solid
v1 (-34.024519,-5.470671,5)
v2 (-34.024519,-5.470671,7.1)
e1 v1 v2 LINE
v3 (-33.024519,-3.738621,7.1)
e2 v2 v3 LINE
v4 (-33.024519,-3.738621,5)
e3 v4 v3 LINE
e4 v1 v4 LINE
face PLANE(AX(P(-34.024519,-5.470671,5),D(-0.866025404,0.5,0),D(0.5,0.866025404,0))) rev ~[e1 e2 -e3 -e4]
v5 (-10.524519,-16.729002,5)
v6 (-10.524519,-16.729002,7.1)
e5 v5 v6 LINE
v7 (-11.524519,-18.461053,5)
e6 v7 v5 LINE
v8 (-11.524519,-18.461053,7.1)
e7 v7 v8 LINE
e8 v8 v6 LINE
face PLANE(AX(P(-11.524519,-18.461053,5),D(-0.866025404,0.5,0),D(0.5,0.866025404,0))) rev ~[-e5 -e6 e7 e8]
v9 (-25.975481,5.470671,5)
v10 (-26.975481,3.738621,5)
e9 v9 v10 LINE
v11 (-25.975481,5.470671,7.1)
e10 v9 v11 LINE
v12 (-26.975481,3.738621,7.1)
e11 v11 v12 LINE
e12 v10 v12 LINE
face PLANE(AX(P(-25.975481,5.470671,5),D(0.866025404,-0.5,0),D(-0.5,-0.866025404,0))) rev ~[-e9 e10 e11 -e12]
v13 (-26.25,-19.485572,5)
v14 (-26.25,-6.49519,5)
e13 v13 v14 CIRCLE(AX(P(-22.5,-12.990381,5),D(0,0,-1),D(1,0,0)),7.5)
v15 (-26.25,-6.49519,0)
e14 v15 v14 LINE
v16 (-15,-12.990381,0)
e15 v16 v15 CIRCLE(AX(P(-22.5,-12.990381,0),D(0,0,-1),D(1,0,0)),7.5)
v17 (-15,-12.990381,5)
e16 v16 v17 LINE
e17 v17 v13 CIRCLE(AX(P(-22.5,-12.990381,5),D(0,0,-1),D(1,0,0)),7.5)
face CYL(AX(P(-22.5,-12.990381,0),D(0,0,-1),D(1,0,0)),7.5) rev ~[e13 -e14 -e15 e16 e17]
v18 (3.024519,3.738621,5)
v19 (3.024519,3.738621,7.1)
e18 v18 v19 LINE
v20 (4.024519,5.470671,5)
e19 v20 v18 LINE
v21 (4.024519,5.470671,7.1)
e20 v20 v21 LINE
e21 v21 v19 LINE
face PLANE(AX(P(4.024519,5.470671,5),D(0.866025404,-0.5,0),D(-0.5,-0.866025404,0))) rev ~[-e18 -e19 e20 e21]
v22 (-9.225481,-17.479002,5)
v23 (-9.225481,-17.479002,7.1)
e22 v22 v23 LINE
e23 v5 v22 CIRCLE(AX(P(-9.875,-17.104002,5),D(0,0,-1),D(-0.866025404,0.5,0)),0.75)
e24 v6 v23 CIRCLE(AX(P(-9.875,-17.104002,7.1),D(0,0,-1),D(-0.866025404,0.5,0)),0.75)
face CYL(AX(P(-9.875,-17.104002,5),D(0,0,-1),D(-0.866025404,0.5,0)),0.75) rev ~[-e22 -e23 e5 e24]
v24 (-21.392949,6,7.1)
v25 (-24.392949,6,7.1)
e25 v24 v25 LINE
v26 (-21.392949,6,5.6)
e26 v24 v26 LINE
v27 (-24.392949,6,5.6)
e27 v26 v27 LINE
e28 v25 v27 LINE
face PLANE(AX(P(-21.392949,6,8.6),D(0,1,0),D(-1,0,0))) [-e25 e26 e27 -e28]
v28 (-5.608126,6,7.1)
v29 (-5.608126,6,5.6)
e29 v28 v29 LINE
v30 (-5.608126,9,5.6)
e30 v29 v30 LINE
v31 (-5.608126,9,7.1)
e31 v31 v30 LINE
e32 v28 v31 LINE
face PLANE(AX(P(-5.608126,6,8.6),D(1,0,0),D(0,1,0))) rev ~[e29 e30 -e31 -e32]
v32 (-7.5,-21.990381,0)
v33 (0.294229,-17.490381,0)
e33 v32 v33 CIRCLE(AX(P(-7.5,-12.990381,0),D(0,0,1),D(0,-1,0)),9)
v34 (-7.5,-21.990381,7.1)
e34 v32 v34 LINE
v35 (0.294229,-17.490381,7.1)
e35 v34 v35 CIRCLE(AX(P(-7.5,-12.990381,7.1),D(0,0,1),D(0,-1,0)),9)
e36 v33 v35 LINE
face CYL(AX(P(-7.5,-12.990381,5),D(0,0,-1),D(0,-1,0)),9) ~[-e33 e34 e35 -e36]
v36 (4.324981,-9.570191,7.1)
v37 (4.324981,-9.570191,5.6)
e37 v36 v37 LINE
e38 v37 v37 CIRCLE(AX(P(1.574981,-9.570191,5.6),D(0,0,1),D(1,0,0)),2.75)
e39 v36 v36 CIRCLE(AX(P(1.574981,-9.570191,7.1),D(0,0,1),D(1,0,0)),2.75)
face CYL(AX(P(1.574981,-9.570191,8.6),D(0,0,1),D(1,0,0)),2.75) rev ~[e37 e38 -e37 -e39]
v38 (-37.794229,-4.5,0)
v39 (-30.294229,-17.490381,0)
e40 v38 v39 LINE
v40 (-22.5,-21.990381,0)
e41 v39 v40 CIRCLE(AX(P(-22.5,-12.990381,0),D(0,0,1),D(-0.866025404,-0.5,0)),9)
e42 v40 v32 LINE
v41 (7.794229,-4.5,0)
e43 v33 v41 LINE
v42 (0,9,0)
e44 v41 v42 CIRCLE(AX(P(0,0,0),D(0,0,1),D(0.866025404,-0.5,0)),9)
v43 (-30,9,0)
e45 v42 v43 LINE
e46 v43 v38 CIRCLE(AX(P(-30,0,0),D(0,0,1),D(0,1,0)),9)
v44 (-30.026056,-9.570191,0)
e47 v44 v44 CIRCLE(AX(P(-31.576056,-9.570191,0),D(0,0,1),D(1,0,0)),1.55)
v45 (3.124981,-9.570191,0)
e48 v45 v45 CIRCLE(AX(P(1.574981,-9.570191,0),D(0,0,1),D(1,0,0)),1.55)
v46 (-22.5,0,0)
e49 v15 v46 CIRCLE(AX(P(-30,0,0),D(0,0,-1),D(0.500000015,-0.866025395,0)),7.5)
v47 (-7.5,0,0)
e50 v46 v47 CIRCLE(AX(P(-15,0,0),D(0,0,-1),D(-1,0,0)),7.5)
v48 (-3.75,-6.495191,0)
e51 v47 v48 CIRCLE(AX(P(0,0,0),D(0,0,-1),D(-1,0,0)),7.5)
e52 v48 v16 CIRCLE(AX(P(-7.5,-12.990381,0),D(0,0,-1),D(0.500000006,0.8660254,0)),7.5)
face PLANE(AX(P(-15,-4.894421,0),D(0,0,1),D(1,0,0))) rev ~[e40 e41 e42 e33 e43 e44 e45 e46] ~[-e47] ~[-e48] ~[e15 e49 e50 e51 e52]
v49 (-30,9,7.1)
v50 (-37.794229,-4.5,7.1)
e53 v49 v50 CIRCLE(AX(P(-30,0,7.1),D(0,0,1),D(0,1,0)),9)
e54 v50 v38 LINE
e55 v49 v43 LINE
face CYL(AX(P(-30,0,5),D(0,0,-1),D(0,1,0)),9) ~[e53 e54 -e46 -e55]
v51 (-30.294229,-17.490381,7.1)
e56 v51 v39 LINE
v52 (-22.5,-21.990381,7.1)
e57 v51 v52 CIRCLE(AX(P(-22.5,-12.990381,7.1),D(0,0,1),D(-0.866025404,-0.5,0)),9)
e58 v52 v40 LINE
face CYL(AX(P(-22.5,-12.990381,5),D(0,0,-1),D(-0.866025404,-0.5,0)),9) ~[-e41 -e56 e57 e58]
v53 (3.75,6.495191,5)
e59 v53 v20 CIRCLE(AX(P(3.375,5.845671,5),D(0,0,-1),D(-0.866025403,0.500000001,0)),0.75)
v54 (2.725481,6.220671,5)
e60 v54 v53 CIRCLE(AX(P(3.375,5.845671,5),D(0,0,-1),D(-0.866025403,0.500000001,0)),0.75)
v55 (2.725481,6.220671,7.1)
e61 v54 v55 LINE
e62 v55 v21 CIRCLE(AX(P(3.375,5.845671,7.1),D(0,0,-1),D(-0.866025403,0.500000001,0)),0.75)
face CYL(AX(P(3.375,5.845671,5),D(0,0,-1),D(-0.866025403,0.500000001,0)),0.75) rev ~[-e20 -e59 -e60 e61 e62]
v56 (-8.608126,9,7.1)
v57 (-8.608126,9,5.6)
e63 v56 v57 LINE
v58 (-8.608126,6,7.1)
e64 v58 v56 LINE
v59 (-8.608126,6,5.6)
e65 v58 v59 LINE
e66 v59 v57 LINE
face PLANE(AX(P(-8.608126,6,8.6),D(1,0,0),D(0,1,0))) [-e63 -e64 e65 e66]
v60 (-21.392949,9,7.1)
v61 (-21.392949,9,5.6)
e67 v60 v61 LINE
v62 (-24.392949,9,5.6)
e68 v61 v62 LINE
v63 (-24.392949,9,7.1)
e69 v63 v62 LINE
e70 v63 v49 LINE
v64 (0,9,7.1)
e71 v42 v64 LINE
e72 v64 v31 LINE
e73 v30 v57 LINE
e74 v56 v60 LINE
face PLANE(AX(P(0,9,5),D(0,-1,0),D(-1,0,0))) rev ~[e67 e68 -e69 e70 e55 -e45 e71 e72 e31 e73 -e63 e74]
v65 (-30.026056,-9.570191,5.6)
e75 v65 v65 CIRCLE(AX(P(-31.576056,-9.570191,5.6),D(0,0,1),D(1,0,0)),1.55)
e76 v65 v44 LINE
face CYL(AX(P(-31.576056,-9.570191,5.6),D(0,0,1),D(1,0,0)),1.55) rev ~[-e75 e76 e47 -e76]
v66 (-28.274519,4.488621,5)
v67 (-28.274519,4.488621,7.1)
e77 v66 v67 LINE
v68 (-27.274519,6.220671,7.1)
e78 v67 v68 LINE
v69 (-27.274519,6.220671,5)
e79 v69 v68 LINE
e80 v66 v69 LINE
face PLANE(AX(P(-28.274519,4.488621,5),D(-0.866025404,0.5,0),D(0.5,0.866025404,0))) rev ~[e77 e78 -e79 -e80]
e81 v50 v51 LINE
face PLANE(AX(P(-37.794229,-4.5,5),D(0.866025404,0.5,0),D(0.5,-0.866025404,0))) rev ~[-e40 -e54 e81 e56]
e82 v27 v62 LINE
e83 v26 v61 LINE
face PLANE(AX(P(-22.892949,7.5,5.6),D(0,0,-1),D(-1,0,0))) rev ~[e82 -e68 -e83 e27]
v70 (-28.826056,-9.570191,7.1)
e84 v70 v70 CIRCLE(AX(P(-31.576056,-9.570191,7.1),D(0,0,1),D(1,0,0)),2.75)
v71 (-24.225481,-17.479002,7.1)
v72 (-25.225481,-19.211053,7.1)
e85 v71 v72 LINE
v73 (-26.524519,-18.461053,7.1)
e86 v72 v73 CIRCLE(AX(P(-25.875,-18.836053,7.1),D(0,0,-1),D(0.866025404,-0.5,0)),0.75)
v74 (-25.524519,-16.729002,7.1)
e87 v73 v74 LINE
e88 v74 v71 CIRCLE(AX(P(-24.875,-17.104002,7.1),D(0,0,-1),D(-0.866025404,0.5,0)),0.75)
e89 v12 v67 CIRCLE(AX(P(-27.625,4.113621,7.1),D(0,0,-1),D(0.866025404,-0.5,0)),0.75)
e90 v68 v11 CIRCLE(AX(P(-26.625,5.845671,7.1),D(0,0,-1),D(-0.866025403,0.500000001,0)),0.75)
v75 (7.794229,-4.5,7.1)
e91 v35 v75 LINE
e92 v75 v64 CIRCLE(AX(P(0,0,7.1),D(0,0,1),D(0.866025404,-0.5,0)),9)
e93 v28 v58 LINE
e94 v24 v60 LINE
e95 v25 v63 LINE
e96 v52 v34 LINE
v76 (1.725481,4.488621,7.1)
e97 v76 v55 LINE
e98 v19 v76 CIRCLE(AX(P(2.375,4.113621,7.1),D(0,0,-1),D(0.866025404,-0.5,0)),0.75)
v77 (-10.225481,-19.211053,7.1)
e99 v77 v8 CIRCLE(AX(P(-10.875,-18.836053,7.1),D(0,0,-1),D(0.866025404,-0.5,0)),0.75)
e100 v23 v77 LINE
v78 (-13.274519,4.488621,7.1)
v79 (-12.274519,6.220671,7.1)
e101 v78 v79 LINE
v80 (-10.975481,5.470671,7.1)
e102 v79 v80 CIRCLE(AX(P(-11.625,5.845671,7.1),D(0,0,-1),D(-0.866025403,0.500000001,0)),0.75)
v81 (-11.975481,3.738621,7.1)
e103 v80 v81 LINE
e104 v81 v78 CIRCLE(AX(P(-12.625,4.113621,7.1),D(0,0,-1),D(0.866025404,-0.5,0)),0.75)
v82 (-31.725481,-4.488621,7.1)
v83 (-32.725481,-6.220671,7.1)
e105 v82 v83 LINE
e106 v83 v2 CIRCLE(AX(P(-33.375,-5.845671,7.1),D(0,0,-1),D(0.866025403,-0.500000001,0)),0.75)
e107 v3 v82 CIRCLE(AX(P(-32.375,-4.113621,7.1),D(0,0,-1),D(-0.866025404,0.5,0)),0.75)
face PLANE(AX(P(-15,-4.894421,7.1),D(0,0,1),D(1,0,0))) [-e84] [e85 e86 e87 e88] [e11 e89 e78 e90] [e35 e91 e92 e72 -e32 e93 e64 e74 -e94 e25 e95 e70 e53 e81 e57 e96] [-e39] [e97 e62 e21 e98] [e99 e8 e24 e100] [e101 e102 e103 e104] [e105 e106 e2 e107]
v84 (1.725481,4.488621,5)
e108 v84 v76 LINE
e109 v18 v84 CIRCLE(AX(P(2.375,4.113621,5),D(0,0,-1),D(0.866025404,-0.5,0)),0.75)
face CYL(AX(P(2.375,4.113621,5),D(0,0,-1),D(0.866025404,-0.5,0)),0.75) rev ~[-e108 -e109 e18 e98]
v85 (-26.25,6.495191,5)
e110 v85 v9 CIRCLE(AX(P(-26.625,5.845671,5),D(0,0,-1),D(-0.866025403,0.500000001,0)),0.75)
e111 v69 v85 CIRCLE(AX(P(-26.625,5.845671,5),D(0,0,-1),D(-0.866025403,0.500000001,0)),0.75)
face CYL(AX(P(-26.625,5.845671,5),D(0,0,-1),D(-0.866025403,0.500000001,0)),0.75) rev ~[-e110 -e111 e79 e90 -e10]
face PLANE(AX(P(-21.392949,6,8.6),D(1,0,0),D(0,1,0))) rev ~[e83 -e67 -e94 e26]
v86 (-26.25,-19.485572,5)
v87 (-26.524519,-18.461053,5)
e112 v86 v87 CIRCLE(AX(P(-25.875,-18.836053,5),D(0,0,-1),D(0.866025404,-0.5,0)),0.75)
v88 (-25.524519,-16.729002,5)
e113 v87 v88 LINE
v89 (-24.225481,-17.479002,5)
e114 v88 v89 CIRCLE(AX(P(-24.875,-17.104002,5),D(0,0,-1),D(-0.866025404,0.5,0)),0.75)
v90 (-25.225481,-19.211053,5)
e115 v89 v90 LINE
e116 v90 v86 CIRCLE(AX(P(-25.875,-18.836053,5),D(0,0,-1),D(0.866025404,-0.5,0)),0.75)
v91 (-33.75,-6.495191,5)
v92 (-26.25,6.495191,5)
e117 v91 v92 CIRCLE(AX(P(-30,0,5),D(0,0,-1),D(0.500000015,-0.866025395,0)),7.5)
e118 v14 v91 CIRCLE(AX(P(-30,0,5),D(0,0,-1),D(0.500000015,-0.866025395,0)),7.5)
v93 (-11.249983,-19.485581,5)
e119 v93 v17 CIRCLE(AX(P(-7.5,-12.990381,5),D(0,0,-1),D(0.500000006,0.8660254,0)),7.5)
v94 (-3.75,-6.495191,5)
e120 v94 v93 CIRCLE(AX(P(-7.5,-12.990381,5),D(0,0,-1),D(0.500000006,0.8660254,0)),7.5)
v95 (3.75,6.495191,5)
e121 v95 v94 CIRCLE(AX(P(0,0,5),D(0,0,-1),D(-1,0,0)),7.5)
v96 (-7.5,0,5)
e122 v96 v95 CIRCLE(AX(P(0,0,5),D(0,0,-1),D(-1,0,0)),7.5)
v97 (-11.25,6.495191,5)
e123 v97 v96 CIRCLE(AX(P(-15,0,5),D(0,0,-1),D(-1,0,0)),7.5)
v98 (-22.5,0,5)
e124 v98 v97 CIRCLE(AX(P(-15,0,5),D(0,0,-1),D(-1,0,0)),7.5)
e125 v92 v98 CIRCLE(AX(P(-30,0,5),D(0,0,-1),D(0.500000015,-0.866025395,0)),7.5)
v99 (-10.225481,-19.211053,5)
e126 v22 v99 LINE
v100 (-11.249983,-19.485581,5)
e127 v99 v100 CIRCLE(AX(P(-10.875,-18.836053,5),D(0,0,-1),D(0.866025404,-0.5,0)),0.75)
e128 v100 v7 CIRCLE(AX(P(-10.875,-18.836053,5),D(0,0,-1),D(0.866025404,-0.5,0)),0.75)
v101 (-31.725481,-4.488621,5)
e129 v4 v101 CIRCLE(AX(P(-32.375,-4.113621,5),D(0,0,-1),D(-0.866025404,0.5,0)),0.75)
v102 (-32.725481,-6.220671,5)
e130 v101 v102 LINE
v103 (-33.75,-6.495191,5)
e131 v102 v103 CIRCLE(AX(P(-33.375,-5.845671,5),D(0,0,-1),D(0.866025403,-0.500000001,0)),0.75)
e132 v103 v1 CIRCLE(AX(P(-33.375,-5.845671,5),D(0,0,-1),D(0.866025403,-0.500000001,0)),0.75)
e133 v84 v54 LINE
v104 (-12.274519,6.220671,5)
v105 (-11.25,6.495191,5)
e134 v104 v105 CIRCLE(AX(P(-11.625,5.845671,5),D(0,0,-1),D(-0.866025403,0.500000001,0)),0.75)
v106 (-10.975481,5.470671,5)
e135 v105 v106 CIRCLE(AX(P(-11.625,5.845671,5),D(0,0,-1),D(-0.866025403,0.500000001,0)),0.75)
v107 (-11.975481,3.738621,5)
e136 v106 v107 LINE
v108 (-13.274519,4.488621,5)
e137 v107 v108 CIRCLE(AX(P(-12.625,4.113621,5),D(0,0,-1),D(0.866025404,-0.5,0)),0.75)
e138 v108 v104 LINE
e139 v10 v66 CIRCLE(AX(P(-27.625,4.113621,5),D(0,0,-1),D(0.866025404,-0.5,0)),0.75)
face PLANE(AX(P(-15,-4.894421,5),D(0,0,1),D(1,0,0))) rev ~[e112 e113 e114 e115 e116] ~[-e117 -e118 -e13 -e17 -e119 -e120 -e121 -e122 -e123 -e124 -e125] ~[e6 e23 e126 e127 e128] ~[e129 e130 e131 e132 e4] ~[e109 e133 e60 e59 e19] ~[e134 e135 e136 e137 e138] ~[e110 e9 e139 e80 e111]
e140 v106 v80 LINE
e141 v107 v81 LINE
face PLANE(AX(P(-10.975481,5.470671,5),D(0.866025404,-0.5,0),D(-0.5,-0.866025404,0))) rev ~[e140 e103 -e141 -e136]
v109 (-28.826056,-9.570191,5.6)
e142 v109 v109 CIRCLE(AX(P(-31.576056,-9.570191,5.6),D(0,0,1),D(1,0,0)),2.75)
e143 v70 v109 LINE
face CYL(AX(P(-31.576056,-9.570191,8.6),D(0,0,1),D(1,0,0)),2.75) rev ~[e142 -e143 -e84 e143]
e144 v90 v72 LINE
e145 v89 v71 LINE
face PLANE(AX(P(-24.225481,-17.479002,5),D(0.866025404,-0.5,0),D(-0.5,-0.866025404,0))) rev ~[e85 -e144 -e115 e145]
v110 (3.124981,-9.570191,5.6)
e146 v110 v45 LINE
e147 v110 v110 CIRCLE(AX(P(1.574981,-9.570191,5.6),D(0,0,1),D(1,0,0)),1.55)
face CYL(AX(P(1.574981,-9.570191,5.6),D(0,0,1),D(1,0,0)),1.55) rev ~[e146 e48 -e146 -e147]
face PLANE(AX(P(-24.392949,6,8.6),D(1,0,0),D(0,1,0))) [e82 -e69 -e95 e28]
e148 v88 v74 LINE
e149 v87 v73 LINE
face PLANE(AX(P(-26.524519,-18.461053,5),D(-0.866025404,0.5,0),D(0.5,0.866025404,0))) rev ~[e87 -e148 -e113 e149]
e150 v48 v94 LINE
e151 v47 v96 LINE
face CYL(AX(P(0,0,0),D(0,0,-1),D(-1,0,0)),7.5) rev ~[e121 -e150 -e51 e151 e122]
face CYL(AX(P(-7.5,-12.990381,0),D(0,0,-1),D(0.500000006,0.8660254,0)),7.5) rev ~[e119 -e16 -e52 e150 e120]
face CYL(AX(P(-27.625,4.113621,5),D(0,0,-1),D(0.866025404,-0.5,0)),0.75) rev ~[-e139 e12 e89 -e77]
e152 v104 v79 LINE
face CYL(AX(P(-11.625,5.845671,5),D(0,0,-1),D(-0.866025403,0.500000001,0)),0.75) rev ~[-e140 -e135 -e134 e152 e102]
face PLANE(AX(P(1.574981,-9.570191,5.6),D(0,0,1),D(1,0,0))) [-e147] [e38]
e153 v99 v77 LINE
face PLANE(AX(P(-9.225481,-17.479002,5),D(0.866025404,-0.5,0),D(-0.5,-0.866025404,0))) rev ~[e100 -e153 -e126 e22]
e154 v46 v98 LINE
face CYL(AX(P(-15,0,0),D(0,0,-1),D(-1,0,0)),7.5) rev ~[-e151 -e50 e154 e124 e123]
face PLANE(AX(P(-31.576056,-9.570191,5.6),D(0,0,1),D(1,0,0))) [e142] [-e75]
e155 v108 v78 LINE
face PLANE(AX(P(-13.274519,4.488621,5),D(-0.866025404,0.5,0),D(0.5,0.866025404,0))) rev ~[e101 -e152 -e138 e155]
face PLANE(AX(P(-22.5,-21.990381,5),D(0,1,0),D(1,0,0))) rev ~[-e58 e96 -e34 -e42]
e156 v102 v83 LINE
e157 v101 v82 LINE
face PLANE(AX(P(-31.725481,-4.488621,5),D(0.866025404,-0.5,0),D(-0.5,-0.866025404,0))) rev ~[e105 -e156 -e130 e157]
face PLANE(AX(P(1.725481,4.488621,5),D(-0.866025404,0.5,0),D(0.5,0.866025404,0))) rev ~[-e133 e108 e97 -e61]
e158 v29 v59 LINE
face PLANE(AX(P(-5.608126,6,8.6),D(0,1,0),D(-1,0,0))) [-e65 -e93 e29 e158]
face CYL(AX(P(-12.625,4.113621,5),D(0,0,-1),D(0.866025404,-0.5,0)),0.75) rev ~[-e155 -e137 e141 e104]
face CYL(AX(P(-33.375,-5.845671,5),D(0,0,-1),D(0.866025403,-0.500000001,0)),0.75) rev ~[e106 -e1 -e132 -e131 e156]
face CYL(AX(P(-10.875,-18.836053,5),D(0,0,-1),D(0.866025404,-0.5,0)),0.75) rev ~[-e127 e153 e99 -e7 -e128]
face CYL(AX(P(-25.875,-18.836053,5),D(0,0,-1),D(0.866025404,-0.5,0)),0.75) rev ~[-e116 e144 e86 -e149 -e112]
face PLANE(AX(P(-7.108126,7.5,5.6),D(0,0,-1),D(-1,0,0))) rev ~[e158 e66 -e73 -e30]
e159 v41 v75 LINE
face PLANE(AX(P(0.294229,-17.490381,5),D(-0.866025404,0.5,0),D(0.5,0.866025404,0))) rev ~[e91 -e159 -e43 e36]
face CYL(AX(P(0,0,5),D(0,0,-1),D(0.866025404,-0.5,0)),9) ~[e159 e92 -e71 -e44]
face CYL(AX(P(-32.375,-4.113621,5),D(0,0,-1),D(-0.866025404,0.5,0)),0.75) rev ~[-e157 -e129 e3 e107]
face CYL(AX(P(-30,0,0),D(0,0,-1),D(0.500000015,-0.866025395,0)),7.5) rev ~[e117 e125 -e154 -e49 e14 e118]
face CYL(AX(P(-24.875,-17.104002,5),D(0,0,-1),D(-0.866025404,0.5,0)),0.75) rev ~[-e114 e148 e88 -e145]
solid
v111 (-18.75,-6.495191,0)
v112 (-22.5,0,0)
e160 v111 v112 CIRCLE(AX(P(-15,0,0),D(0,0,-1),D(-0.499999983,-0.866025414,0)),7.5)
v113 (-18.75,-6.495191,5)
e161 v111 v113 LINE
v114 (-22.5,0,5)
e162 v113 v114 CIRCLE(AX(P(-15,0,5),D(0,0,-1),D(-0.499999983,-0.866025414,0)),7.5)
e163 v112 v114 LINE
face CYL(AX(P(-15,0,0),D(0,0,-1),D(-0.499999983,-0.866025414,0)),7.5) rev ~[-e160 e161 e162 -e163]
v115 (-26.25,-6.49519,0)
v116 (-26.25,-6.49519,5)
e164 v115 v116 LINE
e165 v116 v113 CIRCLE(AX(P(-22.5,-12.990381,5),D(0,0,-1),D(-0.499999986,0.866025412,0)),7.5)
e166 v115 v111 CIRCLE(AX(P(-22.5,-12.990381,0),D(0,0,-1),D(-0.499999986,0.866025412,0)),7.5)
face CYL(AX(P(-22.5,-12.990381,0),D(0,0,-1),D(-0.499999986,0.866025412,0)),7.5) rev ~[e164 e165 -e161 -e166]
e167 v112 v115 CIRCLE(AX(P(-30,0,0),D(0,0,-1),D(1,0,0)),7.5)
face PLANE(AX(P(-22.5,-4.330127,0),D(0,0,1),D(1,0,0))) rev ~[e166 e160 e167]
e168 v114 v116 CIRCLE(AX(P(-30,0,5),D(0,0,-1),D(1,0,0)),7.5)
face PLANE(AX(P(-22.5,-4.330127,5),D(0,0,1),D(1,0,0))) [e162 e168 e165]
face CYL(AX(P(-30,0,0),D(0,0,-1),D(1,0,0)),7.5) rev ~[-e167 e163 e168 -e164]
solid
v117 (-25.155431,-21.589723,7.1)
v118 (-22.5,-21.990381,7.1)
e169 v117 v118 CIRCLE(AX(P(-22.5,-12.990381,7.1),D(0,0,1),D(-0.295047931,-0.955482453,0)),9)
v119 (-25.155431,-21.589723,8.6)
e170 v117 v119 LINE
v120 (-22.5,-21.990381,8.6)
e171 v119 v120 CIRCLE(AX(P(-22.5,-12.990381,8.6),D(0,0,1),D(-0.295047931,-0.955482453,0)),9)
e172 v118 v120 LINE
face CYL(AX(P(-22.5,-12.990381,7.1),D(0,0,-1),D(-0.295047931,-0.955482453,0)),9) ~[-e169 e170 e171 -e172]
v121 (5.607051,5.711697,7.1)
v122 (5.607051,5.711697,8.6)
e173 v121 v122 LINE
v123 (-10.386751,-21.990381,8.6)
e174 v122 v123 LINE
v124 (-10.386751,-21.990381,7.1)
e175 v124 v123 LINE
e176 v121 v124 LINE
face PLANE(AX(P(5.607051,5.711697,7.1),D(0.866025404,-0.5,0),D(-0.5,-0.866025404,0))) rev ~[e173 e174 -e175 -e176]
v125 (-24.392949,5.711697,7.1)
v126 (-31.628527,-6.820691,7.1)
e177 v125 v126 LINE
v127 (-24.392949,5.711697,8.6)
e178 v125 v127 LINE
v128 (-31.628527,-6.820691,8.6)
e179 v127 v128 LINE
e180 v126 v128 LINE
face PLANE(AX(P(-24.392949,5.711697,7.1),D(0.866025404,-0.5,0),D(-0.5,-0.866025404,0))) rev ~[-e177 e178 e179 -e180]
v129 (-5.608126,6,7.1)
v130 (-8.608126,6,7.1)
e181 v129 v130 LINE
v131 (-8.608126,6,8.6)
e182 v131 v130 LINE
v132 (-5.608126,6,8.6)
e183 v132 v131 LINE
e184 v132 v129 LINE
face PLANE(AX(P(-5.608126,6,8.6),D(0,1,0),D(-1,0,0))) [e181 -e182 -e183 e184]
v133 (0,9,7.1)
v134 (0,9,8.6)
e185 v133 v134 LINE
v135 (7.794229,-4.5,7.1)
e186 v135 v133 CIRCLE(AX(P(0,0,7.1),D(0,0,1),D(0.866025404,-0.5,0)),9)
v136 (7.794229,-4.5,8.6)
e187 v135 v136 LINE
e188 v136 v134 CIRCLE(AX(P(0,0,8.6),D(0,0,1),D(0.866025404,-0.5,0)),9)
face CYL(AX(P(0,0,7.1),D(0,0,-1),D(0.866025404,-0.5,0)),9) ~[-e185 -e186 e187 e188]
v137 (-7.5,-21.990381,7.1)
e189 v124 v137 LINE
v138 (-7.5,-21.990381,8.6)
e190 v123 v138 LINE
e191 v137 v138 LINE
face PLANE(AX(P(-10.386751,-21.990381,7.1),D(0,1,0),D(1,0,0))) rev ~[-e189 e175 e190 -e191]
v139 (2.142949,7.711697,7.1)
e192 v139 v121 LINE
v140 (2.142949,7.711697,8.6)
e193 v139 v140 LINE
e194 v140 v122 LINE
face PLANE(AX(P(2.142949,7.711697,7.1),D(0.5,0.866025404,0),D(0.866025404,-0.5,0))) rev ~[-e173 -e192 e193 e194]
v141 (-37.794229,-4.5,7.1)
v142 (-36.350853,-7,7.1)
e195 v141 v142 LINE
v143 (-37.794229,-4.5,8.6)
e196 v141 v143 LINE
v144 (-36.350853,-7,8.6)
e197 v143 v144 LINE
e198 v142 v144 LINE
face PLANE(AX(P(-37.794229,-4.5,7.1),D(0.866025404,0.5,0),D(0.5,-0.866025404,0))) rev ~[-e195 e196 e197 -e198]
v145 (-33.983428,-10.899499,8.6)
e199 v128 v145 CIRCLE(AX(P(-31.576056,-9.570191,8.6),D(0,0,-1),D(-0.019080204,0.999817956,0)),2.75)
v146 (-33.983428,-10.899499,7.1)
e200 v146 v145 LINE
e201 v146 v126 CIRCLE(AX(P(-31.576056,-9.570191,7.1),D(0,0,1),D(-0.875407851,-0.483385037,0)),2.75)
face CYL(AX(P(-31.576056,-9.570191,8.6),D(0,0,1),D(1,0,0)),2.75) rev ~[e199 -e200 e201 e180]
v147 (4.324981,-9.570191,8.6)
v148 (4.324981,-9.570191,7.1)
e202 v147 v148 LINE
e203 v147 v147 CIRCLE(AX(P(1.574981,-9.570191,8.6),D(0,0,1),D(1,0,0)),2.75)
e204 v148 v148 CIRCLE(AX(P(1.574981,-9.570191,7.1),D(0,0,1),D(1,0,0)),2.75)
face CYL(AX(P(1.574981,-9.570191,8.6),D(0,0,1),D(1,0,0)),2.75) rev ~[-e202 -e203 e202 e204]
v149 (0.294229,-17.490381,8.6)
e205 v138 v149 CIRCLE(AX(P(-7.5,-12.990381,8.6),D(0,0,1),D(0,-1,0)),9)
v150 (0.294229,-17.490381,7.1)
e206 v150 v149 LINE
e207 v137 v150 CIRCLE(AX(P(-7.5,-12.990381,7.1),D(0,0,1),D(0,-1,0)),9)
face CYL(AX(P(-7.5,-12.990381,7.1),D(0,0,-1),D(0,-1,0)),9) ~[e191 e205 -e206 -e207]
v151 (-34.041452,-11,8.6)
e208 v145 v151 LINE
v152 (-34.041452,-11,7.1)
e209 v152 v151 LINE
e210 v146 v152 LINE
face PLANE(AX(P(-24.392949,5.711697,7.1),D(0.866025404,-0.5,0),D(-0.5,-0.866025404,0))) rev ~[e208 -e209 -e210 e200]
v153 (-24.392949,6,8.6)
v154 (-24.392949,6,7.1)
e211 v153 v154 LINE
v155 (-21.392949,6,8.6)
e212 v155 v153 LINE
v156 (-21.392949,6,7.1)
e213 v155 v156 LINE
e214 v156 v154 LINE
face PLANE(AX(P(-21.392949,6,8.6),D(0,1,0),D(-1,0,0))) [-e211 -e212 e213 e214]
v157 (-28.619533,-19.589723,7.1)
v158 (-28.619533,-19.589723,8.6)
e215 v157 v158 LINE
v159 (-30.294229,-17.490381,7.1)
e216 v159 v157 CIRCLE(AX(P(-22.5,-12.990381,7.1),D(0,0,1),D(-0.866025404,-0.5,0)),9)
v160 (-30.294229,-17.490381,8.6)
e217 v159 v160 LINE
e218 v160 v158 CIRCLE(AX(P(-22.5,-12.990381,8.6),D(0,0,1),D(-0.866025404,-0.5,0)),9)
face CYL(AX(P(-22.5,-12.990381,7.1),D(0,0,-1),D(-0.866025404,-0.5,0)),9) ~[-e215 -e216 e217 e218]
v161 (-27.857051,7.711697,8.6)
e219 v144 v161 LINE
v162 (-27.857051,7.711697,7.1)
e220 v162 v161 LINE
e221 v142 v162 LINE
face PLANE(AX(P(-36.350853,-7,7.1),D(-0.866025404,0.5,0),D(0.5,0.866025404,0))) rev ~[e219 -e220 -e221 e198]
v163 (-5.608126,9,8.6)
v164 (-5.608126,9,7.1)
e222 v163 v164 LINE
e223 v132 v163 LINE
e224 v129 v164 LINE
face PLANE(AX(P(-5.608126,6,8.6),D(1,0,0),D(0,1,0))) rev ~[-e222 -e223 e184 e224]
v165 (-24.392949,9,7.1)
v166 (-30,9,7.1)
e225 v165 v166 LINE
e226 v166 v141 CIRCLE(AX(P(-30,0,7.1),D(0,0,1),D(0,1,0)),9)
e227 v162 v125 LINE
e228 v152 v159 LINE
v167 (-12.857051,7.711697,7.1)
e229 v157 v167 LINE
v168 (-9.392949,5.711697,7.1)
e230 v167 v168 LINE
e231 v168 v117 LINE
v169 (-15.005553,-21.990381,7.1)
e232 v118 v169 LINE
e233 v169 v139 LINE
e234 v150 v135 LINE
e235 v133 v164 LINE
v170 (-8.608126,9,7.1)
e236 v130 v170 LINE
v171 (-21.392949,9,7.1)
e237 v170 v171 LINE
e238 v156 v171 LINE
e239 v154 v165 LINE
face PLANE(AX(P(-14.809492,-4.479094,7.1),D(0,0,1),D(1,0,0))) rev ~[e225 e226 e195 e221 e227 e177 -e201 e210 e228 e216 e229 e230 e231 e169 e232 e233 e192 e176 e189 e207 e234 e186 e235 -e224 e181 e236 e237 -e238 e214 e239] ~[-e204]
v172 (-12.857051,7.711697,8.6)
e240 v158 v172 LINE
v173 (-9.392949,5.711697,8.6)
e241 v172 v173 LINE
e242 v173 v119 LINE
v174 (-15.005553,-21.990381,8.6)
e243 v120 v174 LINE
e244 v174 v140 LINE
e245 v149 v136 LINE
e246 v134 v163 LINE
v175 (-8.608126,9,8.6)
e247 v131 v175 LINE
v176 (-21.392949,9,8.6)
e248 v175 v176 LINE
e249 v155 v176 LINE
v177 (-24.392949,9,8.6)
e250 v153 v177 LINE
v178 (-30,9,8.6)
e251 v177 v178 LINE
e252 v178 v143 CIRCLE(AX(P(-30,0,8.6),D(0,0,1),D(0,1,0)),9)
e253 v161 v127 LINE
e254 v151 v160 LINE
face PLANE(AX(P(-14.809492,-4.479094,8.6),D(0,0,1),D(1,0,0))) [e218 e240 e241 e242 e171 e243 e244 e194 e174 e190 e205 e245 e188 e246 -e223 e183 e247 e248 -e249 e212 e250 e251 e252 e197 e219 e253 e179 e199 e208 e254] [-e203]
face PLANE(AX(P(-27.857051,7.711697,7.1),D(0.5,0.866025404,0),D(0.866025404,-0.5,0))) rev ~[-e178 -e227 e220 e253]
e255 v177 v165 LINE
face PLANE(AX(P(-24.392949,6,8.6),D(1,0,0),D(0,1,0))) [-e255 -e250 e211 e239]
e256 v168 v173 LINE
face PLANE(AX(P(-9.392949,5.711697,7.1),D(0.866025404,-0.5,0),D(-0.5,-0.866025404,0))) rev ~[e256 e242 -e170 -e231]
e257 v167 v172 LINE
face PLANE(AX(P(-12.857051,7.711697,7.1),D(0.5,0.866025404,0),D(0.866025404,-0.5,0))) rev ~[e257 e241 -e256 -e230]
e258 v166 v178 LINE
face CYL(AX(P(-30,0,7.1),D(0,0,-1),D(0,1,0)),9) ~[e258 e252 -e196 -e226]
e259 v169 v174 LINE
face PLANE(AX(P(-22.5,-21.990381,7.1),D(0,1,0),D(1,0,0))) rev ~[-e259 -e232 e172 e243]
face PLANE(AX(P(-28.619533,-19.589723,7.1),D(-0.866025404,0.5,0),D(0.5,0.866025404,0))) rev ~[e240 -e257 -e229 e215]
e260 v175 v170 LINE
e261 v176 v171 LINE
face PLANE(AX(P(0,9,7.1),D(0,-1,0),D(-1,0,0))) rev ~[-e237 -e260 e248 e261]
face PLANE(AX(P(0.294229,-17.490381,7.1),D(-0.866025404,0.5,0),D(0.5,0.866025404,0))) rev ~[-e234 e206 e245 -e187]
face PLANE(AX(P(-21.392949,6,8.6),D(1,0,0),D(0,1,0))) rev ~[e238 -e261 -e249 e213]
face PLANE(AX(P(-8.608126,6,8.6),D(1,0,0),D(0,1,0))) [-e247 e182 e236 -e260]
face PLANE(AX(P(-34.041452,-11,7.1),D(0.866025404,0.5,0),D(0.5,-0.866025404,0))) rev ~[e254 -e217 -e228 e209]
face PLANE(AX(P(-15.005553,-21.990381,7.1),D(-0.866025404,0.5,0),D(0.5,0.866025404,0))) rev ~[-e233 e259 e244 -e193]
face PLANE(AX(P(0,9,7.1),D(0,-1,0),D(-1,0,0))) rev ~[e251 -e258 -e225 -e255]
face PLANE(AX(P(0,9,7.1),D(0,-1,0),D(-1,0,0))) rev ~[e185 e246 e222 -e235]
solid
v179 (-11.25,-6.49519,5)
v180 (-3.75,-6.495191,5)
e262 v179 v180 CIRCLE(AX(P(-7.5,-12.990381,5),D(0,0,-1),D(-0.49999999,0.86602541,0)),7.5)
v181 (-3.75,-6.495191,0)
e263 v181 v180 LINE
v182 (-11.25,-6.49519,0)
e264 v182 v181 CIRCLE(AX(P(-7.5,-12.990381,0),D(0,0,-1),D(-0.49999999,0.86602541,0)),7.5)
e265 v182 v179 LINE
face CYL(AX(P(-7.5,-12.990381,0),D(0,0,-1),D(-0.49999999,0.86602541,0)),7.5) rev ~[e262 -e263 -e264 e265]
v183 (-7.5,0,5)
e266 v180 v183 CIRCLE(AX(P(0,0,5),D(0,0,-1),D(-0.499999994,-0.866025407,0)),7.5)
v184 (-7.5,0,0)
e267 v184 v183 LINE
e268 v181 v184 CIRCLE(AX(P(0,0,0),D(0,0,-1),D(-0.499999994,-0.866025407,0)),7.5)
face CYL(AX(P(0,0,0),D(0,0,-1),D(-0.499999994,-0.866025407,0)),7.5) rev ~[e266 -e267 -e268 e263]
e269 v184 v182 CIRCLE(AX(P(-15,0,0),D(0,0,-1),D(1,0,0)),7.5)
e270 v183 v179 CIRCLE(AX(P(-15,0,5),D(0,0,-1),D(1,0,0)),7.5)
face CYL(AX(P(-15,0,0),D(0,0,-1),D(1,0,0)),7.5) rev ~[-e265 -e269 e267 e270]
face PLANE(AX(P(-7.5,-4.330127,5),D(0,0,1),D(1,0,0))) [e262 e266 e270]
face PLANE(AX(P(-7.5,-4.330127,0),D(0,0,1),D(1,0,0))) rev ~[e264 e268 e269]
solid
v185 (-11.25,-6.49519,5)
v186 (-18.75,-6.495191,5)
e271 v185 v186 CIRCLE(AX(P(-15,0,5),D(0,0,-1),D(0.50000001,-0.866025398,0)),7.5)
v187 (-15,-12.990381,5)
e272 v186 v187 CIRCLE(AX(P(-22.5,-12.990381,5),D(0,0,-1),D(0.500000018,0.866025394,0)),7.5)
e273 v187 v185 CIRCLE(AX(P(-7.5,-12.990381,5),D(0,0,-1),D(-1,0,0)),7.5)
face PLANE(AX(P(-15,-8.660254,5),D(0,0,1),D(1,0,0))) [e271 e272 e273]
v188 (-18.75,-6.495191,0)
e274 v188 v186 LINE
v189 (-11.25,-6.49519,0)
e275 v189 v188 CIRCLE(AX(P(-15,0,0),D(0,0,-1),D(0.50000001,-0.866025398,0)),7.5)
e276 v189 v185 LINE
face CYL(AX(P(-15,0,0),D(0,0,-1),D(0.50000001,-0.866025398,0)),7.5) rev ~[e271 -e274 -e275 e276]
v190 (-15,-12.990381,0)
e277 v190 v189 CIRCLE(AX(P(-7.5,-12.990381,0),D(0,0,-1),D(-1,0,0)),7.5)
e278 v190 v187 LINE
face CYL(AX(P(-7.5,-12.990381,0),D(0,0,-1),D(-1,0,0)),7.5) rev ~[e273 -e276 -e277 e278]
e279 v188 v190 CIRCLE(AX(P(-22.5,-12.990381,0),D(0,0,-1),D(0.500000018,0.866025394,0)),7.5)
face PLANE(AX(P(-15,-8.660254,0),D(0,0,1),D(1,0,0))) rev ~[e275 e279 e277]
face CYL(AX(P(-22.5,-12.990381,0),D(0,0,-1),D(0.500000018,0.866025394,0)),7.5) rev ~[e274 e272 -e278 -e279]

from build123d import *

# Parameters (mm, degrees)
BOSS_EXTRUDE1_DEPTH   = 5
BOSS_EXTRUDE1_2_DEPTH = 5
BOSS_EXTRUDE1_3_DEPTH = 5
BOSS_EXTRUDE1_4_DEPTH = 5
BOSS_EXTRUDE2_DEPTH   = 2.1
BOSS_EXTRUDE3_DEPTH   = 1.5
SKETCH6_W             = 3
SKETCH6_H             = 3
CUT_EXTRUDE1_DEPTH    = 3
SKETCH7_R             = 2.75
CUT_EXTRUDE5_DEPTH    = 3
SKETCH8_R             = 1.55
CUT_EXTRUDE6_DEPTH    = 46.121357017


with BuildPart() as part:
    # Sketch1 → Boss-Extrude1 (new body)
    with BuildSketch(Plane.XY):
        with BuildLine():
            ThreePointArc((7.794228634, -4.5), (7.794228634, 4.5), (0, 9))
            Line((0, 9), (-30, 9))
            ThreePointArc((-30, 9), (-37.794228634, 4.5), (-37.794228634, -4.5))
            Line((-37.794228634, -4.5), (-30.294228634, -17.490381057))
            ThreePointArc((-30.294228634, -17.490381057), (-27, -20.784609691), (-22.5, -21.990381057))
            Line((-22.5, -21.990381057), (-7.5, -21.990381057))
            ThreePointArc((-7.5, -21.990381057), (-3, -20.784609691), (0.294228634, -17.490381057))
            Line((0.294228634, -17.490381057), (7.794228634, -4.5))
        make_face()
        with BuildLine():
            ThreePointArc((-3.749999955, -6.495190554), (-3.750000023, -19.485571598), (-15, -12.990381057))
            ThreePointArc((-15, -12.990381057), (-26.250000054, -19.485571554), (-26.249999891, -6.495190466))
            ThreePointArc((-26.249999891, -6.495190466), (-36.49519056, 3.749999946), (-22.5, 0))
            ThreePointArc((-22.5, 0), (-15, 7.5), (-7.5, 0))
            ThreePointArc((-7.5, 0), (6.495190515, 3.750000023), (-3.749999955, -6.495190554))
        make_face(mode=Mode.SUBTRACT)
    extrude(amount=BOSS_EXTRUDE1_DEPTH)

    # Sketch2 → Boss-Extrude2 (add)
    with BuildSketch(Plane.XY.offset(5)):
        with BuildLine():
            Line((-22.5, -21.990381057), (-7.5, -21.990381057))
            ThreePointArc((-7.5, -21.990381057), (-3, -20.784609691), (0.294228634, -17.490381057))
            Line((0.294228634, -17.490381057), (7.794228634, -4.5))
            ThreePointArc((7.794228634, -4.5), (7.794228634, 4.5), (0, 9))
            Line((0, 9), (-30, 9))
            ThreePointArc((-30, 9), (-37.794228634, 4.5), (-37.794228634, -4.5))
            Line((-37.794228634, -4.5), (-30.294228634, -17.490381057))
            ThreePointArc((-30.294228634, -17.490381057), (-27, -20.784609691), (-22.5, -21.990381057))
        make_face()
        with BuildLine():
            Line((-28.274519053, 4.488620668), (-27.274519053, 6.220671476))
            ThreePointArc((-27.274519053, 6.220671476), (-26.25, 6.495190528), (-25.975480947, 5.470671476))
            Line((-25.975480947, 5.470671476), (-26.975480947, 3.738620668))
            ThreePointArc((-26.975480947, 3.738620668), (-28, 3.464101615), (-28.274519053, 4.488620668))
        make_face(mode=Mode.SUBTRACT)
        with BuildLine():
            Line((-31.725480947, -4.488620668), (-32.725480947, -6.220671476))
            ThreePointArc((-32.725480947, -6.220671476), (-33.75, -6.495190528), (-34.024519053, -5.470671476))
            Line((-34.024519053, -5.470671476), (-33.024519053, -3.738620668))
            ThreePointArc((-33.024519053, -3.738620668), (-32, -3.464101615), (-31.725480947, -4.488620668))
        make_face(mode=Mode.SUBTRACT)
        with BuildLine():
            Line((-24.225480947, -17.479001725), (-25.225480947, -19.211052532))
            ThreePointArc((-25.225480947, -19.211052532), (-26.25, -19.485571585), (-26.524519053, -18.461052532))
            Line((-26.524519053, -18.461052532), (-25.524519053, -16.729001725))
            ThreePointArc((-25.524519053, -16.729001725), (-24.5, -16.454482672), (-24.225480947, -17.479001725))
        make_face(mode=Mode.SUBTRACT)
        with BuildLine():
            Line((-13.274519053, 4.488620668), (-12.274519053, 6.220671476))
            ThreePointArc((-12.274519053, 6.220671476), (-11.25, 6.495190528), (-10.975480947, 5.470671476))
            Line((-10.975480947, 5.470671476), (-11.975480947, 3.738620668))
            ThreePointArc((-11.975480947, 3.738620668), (-13, 3.464101615), (-13.274519053, 4.488620668))
        make_face(mode=Mode.SUBTRACT)
        with BuildLine():
            Line((-9.225480947, -17.479001725), (-10.225480947, -19.211052532))
            ThreePointArc((-10.225480947, -19.211052532), (-11.25, -19.485571585), (-11.524519053, -18.461052532))
            Line((-11.524519053, -18.461052532), (-10.524519053, -16.729001725))
            ThreePointArc((-10.524519053, -16.729001725), (-9.5, -16.454482672), (-9.225480947, -17.479001725))
        make_face(mode=Mode.SUBTRACT)
        with BuildLine():
            Line((1.725480947, 4.488620668), (2.725480947, 6.220671476))
            ThreePointArc((2.725480947, 6.220671476), (3.75, 6.495190528), (4.024519053, 5.470671476))
            Line((4.024519053, 5.470671476), (3.024519053, 3.738620668))
            ThreePointArc((3.024519053, 3.738620668), (2, 3.464101615), (1.725480947, 4.488620668))
        make_face(mode=Mode.SUBTRACT)
    extrude(amount=BOSS_EXTRUDE2_DEPTH)


with BuildPart() as body_2:
    # Sketch1 → Boss-Extrude1 2 (new body)
    with BuildSketch(Plane.XY):
        with BuildLine():
            ThreePointArc((-18.749999869, -6.495190604), (-16.004809434, -9.240381123), (-15, -12.990381057))
            ThreePointArc((-15, -12.990381057), (-13.995190507, -9.240381019), (-11.249999925, -6.495190485))
            ThreePointArc((-11.249999925, -6.495190485), (-14.999999881, -7.5), (-18.749999869, -6.495190604))
        make_face()
    extrude(amount=BOSS_EXTRUDE1_2_DEPTH)


with BuildPart() as body_3:
    # Sketch1 → Boss-Extrude1 3 (new body)
    with BuildSketch(Plane.XY):
        with BuildLine():
            ThreePointArc((-26.249999891, -6.495190466), (-22.499999861, -5.490381057), (-18.749999869, -6.495190604))
            ThreePointArc((-18.749999869, -6.495190604), (-21.49519049, -3.750000066), (-22.5, 0))
            ThreePointArc((-22.5, 0), (-23.50480944, -3.749999946), (-26.249999891, -6.495190466))
        make_face()
    extrude(amount=BOSS_EXTRUDE1_3_DEPTH)


with BuildPart() as body_4:
    # Sketch1 → Boss-Extrude1 4 (new body)
    with BuildSketch(Plane.XY):
        with BuildLine():
            ThreePointArc((-7.5, 0), (-8.50480945, -3.749999963), (-11.249999925, -6.495190485))
            ThreePointArc((-11.249999925, -6.495190485), (-7.499999931, -5.490381057), (-3.749999955, -6.495190554))
            ThreePointArc((-3.749999955, -6.495190554), (-6.495190515, -3.750000023), (-7.5, 0))
        make_face()
    extrude(amount=BOSS_EXTRUDE1_4_DEPTH)


with BuildPart() as body_5:
    # Sketch3 → Boss-Extrude3 (new body)
    with BuildSketch(Plane.XY.offset(7.1)):
        with BuildLine():
            Line((-37.794228634, -4.5), (-36.350852961, -7))
            Line((-36.350852961, -7), (-27.857050808, 7.711696879))
            Line((-27.857050808, 7.711696879), (-24.392949192, 5.711696879))
            Line((-24.392949192, 5.711696879), (-34.041451884, -11))
            Line((-34.041451884, -11), (-30.294228634, -17.490381057))
            ThreePointArc((-30.294228634, -17.490381057), (-29.53562364, -18.602867137), (-28.619533001, -19.589723134))
            Line((-28.619533001, -19.589723134), (-12.857050808, 7.711696879))
            Line((-12.857050808, 7.711696879), (-9.392949192, 5.711696879))
            Line((-9.392949192, 5.711696879), (-25.155431386, -21.589723134))
            ThreePointArc((-25.155431386, -21.589723134), (-23.842743704, -21.8896529), (-22.5, -21.990381057))
            Line((-22.5, -21.990381057), (-15.005553499, -21.990381057))
            Line((-15.005553499, -21.990381057), (2.142949192, 7.711696879))
            Line((2.142949192, 7.711696879), (5.607050808, 5.711696879))
            Line((5.607050808, 5.711696879), (-10.386751346, -21.990381057))
            Line((-10.386751346, -21.990381057), (-7.5, -21.990381057))
            ThreePointArc((-7.5, -21.990381057), (-3, -20.784609691), (0.294228634, -17.490381057))
            Line((0.294228634, -17.490381057), (7.794228634, -4.5))
            ThreePointArc((7.794228634, -4.5), (7.794228634, 4.5), (0, 9))
            Line((0, 9), (-30, 9))
            ThreePointArc((-30, 9), (-37.794228634, 4.5), (-37.794228634, -4.5))
        make_face()
    extrude(amount=BOSS_EXTRUDE3_DEPTH)


with BuildPart() as cut_extrude1_tool:
    # Sketch6 → Cut-Extrude1 (new body)
    with BuildSketch(Plane(origin=(0, 0, 8.6), x_dir=(-1, 0, 0), z_dir=(0, 0, -1))):
        with Locations((7.108126012, 7.5)):
            Rectangle(SKETCH6_W, SKETCH6_H)
        with Locations((22.892949192, 7.5)):
            Rectangle(SKETCH6_W, SKETCH6_H)
    extrude(amount=CUT_EXTRUDE1_DEPTH)


with BuildPart() as part_1:
    add(part.part)

    # Cut-Extrude1: cut by cut_extrude1_tool
    add(cut_extrude1_tool.part, mode=Mode.SUBTRACT)


with BuildPart() as body_5_1:
    add(body_5.part)

    # Cut-Extrude1: cut by cut_extrude1_tool
    add(cut_extrude1_tool.part, mode=Mode.SUBTRACT)


with BuildPart() as cut_extrude5_tool:
    # Sketch7 → Cut-Extrude5 (new body)
    with BuildSketch(Plane.XY.offset(8.6)):
        with Locations((-31.576056233, -9.570190528)):
            Circle(SKETCH7_R)
        with Locations((1.574981029, -9.570190528)):
            Circle(SKETCH7_R)
    extrude(amount=-CUT_EXTRUDE5_DEPTH)


with BuildPart() as part_2:
    add(part_1.part)

    # Cut-Extrude5: cut by cut_extrude5_tool
    add(cut_extrude5_tool.part, mode=Mode.SUBTRACT)

    # Sketch8 → Cut-Extrude6 (cut, through all)
    with BuildSketch(Plane.XY.offset(5.6)):
        with Locations((1.574981029, -9.570190528)):
            Circle(SKETCH8_R)
        with Locations((-31.576056233, -9.570190528)):
            Circle(SKETCH8_R)
    extrude(amount=-CUT_EXTRUDE6_DEPTH, mode=Mode.SUBTRACT)


with BuildPart() as body_5_2:
    add(body_5_1.part)

    # Cut-Extrude5: cut by cut_extrude5_tool
    add(cut_extrude5_tool.part, mode=Mode.SUBTRACT)


solid = Compound([body_2.part, body_3.part, body_4.part, part_2.part, body_5_2.part])
